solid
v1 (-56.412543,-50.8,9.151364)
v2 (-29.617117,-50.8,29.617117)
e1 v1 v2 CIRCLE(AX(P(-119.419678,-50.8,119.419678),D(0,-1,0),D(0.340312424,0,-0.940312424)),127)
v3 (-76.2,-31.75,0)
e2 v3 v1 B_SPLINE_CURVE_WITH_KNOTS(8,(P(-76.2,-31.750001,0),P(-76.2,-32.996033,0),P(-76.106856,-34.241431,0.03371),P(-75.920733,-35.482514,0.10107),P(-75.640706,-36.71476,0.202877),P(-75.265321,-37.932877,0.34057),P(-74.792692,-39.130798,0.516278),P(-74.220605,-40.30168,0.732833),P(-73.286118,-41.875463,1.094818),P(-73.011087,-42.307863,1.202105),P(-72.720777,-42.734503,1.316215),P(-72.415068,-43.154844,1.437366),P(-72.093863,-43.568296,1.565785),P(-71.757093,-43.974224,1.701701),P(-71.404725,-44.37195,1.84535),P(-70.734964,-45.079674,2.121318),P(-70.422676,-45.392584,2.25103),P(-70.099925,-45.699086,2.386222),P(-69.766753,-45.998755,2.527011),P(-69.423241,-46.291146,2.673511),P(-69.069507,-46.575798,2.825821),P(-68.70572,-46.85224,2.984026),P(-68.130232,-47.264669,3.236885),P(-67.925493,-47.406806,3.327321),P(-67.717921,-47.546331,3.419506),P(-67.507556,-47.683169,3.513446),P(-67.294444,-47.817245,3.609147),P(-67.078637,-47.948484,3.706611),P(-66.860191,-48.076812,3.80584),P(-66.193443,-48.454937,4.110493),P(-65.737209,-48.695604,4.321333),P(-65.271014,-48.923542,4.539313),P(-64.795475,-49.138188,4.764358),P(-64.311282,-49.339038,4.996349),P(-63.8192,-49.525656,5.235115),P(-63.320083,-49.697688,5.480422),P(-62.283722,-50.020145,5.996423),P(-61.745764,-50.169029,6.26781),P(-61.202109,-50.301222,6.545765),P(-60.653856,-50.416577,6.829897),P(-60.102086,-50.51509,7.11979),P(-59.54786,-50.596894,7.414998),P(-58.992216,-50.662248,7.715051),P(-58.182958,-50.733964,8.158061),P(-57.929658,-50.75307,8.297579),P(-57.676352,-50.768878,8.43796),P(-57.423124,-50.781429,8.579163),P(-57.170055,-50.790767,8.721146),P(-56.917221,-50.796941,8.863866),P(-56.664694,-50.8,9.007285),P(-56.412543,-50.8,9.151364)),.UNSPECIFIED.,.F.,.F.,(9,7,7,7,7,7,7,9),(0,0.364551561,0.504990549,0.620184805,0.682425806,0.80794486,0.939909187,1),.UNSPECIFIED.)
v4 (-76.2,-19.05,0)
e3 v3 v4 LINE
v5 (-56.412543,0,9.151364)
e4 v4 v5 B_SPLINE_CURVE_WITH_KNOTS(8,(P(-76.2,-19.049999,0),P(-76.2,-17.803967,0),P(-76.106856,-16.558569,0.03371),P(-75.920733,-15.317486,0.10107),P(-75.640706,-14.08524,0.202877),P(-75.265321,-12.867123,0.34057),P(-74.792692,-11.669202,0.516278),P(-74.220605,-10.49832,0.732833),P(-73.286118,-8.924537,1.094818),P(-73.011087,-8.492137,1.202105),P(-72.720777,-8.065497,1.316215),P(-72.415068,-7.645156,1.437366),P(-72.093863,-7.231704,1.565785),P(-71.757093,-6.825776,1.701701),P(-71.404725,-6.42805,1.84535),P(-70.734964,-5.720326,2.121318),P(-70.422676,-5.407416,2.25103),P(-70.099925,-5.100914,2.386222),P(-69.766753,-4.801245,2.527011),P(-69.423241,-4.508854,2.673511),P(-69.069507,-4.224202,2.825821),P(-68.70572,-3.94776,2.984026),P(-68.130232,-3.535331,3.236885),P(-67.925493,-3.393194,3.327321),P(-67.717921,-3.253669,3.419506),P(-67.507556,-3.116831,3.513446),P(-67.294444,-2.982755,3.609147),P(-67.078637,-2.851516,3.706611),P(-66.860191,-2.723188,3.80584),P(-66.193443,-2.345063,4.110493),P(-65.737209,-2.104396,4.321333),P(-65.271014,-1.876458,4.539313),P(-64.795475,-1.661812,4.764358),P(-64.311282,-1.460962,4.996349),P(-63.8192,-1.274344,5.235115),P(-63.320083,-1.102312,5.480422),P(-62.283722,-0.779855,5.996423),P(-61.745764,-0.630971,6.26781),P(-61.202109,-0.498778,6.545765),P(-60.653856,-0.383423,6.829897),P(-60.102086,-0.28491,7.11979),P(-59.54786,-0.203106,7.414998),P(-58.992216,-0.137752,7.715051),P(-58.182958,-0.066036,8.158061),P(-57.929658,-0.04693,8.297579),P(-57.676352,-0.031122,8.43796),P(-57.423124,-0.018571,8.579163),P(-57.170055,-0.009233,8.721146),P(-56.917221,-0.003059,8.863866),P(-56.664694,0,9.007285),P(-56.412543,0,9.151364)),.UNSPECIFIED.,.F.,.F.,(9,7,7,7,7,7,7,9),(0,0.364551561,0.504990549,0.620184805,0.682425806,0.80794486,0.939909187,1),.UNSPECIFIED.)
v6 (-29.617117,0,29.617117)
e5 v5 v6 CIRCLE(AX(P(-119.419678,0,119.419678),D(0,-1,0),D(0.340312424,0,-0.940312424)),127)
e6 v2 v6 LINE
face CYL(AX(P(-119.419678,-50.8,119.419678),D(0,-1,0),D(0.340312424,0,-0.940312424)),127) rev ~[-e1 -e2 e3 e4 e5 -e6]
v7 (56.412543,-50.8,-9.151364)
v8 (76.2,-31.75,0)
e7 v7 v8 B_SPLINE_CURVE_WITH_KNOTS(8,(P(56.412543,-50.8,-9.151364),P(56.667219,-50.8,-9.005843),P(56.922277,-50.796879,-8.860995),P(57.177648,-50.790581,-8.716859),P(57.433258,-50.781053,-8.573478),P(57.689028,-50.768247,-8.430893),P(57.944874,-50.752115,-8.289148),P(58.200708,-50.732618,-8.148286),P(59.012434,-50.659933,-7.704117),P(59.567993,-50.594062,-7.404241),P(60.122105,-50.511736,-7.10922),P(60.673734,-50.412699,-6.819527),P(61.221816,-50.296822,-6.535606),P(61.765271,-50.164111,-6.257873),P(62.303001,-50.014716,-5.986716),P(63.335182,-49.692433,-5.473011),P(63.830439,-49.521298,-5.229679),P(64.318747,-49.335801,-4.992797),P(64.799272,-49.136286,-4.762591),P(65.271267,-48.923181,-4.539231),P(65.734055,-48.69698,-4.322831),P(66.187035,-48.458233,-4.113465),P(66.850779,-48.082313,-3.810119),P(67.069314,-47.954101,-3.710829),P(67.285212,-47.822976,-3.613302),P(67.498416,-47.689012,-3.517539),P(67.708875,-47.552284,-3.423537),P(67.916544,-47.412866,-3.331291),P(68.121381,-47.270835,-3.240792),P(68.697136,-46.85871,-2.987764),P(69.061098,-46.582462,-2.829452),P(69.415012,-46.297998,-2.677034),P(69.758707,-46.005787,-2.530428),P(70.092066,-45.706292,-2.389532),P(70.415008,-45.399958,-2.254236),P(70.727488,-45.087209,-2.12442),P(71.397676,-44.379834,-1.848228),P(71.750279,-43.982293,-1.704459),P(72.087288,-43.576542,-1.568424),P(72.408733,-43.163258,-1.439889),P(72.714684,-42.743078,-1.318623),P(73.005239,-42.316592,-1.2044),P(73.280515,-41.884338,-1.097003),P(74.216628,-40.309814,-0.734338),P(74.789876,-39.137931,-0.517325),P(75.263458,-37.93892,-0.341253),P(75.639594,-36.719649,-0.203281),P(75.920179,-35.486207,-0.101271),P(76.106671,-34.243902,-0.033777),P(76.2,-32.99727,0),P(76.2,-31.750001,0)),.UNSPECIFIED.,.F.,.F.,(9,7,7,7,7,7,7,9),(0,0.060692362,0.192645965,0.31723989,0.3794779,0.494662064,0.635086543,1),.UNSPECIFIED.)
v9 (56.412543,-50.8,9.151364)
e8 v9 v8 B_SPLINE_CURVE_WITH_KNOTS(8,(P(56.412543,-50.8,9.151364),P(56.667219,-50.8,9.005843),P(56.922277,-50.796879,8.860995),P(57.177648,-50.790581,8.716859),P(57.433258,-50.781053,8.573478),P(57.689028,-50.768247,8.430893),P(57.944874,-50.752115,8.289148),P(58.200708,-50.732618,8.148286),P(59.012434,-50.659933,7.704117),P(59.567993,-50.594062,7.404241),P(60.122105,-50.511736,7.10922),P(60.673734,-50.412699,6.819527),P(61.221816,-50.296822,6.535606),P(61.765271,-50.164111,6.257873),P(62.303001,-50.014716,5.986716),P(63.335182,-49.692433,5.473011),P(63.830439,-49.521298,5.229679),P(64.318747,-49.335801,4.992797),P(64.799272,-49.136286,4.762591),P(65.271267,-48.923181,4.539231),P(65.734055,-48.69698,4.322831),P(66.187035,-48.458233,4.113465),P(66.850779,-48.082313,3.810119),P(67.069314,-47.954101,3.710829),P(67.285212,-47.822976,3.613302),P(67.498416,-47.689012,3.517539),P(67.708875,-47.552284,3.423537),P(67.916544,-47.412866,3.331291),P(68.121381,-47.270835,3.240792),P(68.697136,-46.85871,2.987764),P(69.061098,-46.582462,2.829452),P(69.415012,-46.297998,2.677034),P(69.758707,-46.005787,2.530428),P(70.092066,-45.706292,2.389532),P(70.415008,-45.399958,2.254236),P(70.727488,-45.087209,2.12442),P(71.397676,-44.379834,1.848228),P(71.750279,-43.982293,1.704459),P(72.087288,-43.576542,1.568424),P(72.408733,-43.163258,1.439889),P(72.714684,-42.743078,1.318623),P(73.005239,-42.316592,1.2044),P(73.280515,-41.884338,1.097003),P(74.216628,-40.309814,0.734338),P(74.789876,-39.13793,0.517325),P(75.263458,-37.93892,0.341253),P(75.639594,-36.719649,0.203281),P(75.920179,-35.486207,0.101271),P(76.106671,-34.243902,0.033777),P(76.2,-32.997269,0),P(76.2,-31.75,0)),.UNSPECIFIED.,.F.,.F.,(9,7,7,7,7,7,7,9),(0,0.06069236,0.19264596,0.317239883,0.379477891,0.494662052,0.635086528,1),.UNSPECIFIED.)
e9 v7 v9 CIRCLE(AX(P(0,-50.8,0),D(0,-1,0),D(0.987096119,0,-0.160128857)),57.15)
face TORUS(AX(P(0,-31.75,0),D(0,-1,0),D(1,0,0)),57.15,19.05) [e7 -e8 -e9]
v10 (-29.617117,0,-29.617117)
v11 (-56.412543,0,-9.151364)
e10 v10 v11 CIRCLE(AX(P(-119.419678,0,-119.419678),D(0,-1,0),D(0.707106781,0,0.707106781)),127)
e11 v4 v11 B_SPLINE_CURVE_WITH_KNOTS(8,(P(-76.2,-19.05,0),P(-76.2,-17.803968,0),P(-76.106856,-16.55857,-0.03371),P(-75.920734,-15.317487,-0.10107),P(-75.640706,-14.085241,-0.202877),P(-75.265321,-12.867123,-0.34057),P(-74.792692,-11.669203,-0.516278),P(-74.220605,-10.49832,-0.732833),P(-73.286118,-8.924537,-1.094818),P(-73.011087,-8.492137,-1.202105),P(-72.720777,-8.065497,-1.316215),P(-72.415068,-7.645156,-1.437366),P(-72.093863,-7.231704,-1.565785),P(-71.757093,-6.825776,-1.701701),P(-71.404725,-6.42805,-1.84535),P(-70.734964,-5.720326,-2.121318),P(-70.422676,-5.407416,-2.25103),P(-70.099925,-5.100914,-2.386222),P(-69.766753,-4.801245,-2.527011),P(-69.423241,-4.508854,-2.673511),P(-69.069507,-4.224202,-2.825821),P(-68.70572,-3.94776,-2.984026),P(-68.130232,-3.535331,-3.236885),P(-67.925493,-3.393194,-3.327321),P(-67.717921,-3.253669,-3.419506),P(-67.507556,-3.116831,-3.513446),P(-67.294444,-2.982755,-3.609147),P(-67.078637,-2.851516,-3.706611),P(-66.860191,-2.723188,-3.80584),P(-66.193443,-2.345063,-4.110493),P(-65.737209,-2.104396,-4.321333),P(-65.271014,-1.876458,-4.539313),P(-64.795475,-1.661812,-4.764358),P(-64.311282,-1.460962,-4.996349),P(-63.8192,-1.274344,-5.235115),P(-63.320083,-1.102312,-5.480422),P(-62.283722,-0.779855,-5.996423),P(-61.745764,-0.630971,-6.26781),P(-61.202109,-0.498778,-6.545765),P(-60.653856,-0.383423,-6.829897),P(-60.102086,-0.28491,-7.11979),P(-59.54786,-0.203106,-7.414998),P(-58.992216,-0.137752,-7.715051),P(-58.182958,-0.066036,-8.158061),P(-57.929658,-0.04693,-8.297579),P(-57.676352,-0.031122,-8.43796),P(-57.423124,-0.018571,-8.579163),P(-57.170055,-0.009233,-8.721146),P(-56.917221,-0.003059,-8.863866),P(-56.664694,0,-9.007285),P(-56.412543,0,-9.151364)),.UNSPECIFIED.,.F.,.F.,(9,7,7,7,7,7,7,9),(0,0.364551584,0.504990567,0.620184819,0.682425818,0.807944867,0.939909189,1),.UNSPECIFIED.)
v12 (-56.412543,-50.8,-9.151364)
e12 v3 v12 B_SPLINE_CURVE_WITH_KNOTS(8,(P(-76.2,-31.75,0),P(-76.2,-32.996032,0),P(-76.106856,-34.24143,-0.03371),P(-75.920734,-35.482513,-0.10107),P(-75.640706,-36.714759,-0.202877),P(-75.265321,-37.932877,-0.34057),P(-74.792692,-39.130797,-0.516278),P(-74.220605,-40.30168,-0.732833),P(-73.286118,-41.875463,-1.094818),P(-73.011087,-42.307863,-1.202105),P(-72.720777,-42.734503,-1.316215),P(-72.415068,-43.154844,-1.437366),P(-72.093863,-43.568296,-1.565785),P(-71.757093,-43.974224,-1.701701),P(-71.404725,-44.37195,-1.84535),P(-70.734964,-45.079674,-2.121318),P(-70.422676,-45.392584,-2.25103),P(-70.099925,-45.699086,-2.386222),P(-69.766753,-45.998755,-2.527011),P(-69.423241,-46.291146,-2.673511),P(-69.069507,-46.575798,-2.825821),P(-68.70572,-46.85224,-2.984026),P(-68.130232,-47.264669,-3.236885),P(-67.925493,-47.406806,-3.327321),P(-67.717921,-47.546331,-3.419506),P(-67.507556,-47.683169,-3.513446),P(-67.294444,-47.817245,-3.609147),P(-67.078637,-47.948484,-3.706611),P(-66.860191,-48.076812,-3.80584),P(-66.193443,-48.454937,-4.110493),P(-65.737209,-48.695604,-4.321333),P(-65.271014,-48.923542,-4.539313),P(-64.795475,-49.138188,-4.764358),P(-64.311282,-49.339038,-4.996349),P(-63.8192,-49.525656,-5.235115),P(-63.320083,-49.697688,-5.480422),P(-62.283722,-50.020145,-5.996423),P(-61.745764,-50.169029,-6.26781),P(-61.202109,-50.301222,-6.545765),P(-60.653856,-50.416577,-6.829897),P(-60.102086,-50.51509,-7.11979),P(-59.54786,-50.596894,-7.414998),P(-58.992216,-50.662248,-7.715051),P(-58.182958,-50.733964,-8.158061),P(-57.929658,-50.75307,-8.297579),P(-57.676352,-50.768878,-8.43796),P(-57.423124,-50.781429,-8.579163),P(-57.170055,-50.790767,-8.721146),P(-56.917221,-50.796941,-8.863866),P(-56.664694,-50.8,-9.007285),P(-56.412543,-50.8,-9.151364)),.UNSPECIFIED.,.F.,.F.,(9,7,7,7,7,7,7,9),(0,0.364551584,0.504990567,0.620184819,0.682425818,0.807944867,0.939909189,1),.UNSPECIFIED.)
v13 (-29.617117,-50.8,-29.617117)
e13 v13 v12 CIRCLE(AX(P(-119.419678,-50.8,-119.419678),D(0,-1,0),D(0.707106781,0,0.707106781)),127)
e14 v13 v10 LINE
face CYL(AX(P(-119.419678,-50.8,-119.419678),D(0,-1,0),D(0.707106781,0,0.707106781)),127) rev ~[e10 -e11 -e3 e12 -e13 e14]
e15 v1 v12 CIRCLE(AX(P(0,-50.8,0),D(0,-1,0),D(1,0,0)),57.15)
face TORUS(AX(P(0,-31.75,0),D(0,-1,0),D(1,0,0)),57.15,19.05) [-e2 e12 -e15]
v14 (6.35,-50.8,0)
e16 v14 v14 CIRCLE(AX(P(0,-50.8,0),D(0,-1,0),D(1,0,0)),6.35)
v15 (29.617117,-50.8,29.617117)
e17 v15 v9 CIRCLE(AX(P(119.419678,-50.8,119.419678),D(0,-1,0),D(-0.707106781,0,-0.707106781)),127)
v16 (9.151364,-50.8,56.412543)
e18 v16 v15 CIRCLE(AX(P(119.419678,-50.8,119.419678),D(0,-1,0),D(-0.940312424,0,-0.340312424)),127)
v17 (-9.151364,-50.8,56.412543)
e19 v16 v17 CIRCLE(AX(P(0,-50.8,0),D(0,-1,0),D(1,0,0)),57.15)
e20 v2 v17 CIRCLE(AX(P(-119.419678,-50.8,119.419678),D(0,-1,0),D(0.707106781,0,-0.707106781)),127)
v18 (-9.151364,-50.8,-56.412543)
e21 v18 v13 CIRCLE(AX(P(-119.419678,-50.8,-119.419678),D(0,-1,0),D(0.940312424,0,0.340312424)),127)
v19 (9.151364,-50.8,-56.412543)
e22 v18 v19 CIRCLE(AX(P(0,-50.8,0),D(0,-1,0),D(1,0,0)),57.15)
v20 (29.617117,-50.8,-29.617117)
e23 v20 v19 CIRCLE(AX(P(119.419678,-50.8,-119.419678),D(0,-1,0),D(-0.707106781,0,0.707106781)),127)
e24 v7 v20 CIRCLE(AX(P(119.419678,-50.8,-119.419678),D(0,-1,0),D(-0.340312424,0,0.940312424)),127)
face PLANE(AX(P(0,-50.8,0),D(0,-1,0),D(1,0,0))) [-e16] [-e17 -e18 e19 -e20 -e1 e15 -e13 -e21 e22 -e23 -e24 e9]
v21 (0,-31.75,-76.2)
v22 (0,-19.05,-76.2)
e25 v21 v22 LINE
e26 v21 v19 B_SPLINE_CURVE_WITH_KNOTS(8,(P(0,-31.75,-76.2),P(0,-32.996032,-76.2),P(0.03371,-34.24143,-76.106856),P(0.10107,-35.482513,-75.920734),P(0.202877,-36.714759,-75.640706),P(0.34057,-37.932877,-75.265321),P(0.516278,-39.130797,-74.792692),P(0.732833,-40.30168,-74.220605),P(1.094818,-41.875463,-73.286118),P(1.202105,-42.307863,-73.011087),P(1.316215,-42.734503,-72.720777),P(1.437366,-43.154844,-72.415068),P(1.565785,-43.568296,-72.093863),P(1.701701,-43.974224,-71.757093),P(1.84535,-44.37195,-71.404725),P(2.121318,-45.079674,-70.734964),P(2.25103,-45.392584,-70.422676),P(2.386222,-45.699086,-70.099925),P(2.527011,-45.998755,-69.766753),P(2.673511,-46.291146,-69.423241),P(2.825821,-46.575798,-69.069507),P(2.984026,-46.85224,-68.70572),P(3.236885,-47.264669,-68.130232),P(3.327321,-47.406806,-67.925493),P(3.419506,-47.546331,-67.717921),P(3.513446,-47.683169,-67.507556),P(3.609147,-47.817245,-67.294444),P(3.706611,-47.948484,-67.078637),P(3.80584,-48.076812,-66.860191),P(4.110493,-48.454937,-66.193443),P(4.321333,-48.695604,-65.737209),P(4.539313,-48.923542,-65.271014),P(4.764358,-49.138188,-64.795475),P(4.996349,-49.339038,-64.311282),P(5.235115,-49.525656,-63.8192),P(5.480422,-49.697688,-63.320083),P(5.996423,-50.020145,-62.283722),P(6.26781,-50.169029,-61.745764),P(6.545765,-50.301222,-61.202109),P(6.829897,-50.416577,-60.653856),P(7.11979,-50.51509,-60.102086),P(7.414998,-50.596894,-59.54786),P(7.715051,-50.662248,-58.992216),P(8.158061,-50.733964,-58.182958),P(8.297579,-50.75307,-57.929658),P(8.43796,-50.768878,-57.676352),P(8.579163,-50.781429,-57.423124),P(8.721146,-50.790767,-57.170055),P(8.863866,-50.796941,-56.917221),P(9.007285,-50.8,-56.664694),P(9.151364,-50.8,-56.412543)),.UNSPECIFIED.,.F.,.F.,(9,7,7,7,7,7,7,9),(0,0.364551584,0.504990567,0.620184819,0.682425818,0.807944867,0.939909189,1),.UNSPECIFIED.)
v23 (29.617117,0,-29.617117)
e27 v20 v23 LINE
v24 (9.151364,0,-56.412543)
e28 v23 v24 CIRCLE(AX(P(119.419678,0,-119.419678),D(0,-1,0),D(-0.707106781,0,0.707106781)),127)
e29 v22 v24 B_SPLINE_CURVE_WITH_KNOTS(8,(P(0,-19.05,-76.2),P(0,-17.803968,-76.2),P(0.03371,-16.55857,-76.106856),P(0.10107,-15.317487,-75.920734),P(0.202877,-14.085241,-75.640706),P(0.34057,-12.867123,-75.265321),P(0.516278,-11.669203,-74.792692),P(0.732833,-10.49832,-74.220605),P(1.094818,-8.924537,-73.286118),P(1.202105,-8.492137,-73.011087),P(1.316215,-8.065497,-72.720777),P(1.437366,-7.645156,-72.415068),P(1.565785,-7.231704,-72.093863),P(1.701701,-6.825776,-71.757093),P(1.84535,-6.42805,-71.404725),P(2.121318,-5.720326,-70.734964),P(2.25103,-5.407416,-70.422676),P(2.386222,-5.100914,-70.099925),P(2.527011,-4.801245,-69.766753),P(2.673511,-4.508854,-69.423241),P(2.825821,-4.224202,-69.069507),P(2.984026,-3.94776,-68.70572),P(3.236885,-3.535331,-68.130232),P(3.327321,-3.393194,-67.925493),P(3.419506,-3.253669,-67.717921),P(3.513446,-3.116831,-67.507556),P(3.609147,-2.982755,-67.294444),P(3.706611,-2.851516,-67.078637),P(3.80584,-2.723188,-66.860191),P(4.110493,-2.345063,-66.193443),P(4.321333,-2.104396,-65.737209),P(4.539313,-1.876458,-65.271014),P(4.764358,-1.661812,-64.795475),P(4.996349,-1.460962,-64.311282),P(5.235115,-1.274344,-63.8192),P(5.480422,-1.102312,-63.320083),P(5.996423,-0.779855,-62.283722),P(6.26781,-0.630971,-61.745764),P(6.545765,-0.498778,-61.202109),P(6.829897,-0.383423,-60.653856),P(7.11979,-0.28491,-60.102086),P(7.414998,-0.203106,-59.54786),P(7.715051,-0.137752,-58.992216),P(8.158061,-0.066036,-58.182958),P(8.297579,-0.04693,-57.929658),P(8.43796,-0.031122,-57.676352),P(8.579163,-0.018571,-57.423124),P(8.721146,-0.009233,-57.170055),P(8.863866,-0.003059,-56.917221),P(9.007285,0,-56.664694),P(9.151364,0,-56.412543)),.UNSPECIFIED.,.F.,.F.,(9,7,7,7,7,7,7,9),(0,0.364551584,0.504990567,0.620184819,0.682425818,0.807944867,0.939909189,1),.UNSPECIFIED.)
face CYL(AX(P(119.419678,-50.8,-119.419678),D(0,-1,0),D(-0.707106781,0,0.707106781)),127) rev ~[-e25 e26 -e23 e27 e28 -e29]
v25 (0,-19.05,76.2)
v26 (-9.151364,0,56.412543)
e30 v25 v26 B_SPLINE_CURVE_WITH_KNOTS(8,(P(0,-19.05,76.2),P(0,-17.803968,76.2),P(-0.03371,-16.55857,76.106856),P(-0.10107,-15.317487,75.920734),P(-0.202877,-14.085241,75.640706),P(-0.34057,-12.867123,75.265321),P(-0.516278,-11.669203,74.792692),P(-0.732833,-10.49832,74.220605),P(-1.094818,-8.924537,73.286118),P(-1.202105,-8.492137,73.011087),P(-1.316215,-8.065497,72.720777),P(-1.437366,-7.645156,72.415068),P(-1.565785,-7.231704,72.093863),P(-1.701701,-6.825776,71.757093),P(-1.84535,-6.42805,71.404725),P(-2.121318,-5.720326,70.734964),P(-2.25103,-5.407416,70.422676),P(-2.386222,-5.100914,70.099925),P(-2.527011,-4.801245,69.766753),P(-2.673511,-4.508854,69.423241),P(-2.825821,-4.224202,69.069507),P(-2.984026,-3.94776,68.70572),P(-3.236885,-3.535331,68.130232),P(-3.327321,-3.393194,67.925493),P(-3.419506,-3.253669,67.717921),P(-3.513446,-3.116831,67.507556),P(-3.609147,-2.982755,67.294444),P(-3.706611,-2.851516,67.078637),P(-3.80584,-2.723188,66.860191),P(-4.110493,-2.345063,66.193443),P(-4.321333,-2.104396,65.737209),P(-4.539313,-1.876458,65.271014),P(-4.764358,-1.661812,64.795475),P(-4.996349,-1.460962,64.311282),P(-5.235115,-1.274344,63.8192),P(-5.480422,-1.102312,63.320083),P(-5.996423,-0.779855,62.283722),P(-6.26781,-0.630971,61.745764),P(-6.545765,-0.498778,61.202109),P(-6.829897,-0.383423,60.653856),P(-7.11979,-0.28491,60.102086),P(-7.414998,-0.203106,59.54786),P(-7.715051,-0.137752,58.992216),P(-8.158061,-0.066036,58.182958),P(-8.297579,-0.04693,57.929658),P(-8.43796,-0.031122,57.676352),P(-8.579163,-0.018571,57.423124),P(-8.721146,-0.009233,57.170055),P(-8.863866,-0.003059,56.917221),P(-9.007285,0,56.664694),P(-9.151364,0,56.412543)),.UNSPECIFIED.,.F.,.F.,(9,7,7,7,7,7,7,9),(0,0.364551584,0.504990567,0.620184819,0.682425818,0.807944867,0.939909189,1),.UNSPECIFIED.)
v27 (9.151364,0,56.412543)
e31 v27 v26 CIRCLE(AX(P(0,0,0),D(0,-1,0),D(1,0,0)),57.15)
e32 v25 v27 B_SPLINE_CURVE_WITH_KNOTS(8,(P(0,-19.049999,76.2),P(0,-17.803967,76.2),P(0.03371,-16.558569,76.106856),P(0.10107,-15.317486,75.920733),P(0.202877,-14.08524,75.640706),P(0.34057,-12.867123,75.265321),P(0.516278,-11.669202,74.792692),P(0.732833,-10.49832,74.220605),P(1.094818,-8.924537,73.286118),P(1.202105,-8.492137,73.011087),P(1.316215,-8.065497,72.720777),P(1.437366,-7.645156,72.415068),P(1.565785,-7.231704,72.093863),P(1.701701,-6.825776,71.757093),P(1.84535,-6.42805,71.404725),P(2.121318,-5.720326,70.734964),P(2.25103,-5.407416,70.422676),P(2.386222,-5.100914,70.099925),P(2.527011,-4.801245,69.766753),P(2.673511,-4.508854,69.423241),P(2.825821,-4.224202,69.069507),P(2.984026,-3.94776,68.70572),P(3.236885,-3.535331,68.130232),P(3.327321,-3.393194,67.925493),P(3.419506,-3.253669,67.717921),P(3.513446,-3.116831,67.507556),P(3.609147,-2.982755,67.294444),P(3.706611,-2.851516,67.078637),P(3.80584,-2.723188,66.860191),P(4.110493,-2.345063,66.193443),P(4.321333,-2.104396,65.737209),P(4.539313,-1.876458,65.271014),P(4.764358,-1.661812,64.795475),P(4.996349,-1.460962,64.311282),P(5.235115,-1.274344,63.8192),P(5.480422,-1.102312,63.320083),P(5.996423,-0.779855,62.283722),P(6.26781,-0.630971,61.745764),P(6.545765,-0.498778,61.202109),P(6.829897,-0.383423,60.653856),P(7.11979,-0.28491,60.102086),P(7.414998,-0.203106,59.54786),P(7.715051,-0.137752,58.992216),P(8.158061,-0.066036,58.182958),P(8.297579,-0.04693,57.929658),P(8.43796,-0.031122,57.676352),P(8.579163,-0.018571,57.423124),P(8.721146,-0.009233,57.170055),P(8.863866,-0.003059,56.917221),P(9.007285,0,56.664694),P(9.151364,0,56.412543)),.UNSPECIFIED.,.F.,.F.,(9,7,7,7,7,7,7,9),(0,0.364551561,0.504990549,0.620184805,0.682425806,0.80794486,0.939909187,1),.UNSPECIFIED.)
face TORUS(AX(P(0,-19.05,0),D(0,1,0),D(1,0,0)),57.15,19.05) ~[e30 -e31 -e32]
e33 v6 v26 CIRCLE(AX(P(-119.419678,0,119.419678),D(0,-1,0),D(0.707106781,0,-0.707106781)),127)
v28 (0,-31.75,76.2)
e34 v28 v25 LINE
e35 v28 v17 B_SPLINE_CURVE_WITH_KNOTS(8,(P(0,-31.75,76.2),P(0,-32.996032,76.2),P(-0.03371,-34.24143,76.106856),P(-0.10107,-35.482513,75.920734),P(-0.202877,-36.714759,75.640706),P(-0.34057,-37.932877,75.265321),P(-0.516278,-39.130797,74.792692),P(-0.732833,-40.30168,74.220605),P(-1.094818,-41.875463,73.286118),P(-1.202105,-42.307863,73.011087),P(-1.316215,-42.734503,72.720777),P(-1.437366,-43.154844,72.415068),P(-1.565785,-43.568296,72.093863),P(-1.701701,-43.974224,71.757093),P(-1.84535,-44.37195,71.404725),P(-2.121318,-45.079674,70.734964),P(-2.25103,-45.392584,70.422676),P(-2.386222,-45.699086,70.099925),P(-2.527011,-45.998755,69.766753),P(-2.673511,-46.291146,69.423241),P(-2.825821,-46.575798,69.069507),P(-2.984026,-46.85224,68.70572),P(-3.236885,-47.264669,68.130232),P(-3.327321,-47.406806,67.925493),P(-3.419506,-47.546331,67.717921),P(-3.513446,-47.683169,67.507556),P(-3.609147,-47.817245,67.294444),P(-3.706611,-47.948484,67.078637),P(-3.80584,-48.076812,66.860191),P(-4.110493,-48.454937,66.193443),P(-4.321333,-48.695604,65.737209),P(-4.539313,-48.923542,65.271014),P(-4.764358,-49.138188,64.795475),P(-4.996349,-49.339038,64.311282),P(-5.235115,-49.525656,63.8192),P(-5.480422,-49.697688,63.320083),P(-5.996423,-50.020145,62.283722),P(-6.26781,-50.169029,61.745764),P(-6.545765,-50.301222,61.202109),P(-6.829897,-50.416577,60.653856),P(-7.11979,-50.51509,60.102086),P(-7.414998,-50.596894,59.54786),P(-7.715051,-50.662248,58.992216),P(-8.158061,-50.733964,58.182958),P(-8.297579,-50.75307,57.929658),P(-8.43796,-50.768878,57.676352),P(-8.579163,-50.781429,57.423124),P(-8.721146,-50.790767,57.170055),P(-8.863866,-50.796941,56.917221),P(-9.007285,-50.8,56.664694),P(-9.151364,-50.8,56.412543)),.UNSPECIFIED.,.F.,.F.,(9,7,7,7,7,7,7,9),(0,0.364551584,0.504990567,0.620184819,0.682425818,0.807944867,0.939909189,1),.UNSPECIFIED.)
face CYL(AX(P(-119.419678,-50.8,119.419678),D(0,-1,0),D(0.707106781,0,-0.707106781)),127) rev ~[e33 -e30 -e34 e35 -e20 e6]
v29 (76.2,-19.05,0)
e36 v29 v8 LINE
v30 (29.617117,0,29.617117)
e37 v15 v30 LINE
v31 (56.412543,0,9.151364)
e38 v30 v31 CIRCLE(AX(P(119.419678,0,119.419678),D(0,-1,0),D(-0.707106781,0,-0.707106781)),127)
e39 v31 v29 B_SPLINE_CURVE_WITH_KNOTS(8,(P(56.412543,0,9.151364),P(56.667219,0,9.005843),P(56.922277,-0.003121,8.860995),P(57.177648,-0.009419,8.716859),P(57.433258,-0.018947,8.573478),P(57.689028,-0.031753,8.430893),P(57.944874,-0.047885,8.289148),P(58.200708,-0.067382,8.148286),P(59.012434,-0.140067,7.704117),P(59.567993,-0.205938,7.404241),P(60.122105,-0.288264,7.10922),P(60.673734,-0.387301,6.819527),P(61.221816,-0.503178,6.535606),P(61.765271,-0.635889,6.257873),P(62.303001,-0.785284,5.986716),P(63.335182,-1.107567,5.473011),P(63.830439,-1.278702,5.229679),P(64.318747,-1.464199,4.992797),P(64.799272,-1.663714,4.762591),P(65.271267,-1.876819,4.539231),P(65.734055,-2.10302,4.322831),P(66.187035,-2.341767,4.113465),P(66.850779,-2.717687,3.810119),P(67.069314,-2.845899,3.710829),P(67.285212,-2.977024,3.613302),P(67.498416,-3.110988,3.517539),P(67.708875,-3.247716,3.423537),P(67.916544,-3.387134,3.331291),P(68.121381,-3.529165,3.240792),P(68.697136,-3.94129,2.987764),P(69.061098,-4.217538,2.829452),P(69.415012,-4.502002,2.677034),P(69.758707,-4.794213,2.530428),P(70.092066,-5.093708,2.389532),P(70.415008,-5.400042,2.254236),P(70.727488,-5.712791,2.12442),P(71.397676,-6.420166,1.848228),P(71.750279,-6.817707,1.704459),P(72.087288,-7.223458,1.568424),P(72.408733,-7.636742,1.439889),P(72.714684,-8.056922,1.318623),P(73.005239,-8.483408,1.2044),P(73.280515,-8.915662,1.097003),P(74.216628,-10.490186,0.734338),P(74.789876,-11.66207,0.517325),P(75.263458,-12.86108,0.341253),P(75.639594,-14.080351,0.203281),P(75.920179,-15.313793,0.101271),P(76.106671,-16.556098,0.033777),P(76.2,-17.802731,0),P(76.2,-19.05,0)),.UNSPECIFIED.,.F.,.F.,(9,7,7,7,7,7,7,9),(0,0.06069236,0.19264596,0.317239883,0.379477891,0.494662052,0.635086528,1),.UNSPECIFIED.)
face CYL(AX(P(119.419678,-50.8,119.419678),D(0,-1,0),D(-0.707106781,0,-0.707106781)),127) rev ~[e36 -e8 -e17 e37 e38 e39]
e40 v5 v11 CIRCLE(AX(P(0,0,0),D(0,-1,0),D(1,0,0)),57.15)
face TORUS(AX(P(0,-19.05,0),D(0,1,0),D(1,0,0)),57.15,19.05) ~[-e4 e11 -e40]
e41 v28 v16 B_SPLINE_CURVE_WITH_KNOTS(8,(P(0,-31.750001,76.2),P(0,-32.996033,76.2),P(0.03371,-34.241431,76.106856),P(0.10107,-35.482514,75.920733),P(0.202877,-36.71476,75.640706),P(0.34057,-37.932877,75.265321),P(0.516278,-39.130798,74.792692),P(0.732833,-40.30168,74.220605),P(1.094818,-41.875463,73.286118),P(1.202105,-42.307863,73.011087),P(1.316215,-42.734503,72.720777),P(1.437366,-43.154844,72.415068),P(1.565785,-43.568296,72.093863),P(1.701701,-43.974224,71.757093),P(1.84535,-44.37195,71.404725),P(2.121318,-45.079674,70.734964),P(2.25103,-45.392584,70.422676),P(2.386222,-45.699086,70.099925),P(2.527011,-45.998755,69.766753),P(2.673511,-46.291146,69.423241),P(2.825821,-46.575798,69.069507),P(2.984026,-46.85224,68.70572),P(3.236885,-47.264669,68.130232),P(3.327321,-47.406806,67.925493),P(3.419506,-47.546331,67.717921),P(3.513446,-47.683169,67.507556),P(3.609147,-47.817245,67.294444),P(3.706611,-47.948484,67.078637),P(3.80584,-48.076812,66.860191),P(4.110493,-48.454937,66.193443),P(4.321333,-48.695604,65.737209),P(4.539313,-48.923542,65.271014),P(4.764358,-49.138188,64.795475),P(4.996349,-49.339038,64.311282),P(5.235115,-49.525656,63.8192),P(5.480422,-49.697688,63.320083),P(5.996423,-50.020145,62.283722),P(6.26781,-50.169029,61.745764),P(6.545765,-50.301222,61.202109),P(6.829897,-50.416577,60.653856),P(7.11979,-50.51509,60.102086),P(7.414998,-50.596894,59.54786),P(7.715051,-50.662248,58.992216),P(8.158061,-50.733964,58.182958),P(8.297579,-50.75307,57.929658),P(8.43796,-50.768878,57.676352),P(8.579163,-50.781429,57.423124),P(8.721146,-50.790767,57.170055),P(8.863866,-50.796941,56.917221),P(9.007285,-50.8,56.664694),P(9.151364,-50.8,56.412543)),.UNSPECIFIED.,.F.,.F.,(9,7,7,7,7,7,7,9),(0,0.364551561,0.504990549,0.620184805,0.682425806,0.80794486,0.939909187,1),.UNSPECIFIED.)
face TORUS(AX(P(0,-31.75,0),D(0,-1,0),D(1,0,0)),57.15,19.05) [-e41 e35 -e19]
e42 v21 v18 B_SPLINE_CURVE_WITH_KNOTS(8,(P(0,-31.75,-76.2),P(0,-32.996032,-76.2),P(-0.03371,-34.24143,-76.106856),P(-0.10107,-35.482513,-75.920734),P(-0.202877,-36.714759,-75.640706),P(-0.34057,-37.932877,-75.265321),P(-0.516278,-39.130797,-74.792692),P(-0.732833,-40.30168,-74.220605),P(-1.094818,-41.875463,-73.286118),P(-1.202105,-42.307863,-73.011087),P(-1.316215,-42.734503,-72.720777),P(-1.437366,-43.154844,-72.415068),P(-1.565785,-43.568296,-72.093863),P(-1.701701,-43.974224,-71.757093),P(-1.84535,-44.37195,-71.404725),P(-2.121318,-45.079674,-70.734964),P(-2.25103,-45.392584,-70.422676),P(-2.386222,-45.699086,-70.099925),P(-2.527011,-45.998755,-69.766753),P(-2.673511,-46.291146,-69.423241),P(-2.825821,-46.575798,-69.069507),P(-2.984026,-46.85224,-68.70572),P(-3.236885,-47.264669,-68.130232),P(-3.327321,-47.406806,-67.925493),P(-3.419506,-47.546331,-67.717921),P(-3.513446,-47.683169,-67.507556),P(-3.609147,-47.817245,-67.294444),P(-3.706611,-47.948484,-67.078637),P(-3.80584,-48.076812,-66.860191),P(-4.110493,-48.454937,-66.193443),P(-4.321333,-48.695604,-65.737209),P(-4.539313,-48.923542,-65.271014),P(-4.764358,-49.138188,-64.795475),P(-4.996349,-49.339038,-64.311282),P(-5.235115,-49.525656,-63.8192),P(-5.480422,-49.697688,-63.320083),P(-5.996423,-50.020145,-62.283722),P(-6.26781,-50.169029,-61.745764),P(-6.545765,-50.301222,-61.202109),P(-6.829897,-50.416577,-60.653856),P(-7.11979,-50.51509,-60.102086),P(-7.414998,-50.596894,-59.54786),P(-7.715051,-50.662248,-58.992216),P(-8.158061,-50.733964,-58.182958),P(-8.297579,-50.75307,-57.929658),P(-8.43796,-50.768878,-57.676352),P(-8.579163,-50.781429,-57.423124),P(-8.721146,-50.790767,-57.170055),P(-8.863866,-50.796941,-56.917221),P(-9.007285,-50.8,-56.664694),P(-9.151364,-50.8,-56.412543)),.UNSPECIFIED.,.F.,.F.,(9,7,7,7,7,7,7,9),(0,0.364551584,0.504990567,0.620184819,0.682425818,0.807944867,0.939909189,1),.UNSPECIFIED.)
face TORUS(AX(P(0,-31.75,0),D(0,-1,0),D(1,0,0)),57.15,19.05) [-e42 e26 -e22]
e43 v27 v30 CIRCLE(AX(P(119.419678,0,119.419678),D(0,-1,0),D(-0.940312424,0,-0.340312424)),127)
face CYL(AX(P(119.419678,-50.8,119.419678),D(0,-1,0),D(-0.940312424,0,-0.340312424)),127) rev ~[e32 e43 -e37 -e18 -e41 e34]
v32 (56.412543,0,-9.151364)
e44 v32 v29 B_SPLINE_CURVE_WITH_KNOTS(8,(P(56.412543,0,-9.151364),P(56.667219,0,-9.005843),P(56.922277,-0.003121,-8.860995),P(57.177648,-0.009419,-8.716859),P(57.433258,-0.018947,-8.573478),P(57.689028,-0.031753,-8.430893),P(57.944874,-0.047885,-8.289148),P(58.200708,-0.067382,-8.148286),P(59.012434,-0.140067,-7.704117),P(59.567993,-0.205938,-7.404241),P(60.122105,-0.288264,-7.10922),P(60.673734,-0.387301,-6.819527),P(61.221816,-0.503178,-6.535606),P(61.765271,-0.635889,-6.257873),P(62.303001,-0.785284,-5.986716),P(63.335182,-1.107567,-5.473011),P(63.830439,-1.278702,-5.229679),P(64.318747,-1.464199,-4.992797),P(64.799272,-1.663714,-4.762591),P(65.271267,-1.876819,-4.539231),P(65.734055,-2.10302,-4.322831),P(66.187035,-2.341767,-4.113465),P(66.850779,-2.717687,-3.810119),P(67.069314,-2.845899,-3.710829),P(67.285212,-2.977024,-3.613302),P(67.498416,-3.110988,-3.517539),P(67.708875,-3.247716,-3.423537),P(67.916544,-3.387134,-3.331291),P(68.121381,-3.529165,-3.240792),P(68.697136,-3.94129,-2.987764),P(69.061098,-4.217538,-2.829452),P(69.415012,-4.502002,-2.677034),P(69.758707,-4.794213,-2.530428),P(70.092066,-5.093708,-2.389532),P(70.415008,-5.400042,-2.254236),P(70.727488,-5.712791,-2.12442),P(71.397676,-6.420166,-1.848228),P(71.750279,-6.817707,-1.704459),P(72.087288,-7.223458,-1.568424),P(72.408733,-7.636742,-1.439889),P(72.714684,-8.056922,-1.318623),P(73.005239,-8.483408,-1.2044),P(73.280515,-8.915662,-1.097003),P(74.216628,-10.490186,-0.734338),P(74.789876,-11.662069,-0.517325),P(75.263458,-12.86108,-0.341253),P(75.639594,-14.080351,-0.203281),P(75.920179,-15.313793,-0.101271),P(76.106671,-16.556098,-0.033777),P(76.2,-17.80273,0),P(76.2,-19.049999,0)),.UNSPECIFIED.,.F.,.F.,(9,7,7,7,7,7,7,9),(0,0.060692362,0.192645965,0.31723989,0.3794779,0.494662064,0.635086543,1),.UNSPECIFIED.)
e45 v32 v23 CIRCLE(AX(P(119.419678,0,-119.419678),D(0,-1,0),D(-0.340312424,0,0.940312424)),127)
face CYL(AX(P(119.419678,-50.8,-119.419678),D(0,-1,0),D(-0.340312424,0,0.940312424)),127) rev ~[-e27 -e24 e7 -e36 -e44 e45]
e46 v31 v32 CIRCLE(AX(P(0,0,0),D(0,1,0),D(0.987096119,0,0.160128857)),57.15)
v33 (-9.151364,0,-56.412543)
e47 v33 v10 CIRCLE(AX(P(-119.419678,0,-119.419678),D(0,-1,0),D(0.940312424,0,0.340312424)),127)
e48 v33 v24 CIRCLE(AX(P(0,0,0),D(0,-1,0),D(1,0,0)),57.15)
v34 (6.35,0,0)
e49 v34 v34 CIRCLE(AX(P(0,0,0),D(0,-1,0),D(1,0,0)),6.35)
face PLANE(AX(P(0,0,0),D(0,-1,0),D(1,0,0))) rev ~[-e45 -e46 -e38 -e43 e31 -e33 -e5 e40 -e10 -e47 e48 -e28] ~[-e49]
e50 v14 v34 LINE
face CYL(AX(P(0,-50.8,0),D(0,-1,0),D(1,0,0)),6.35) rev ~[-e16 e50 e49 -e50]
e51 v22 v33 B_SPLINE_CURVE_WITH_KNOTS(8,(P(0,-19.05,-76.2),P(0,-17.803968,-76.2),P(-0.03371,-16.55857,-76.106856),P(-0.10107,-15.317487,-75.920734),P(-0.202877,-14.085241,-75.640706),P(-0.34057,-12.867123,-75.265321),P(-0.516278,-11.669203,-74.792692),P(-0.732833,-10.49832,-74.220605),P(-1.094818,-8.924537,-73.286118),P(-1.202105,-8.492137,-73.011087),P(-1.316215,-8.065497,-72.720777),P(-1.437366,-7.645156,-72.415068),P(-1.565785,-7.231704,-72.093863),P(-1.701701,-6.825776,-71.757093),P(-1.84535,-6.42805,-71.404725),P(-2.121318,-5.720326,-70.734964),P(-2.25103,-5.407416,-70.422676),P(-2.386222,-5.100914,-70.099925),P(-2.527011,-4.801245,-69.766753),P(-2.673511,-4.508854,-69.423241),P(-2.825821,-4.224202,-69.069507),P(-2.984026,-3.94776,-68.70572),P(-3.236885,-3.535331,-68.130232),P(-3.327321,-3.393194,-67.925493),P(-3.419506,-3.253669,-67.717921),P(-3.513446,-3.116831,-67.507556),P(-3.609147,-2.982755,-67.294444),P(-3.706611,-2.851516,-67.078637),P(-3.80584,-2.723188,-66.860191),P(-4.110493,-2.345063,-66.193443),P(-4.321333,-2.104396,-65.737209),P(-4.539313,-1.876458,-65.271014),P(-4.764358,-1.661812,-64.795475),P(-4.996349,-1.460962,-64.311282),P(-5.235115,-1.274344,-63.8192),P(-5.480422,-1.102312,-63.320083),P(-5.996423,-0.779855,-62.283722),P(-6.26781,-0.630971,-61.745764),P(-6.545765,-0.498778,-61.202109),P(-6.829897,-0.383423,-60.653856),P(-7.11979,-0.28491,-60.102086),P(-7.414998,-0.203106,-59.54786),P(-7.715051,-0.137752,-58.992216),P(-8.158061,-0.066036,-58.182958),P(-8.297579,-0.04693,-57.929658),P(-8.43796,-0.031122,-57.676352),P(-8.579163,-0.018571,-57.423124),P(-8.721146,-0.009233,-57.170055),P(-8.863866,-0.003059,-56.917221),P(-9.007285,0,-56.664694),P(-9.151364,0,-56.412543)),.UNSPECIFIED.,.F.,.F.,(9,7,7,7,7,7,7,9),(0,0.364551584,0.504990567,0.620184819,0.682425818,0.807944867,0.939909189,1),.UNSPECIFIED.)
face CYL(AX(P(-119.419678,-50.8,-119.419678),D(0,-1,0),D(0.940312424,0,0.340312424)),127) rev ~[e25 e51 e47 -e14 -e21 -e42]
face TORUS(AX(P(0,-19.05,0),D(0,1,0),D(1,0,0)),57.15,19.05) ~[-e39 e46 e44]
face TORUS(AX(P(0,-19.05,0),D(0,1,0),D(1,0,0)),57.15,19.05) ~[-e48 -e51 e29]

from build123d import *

# Parameters (mm, degrees)
F0_R     = 76.2
F1_DEPTH = 50.8
F3_R     = 19.05
F4_DEPTH = 50.801
F5_R     = 6.35
F6_DEPTH = 50.8010001


with BuildPart() as f1:
    # F0 (on Front) → F1 (new body)
    with BuildSketch(Plane.XZ):
        Circle(F0_R)
    extrude(amount=F1_DEPTH)

    # F3
    f3_edges = [f1.edges().sort_by_distance(p)[0] for p in [
        (76.2, -25.4, 0),
        (-76.2, 0, 0),
        (-76.2, -50.8, 0),
    ]]
    fillet(f3_edges, radius=F3_R)

    # F2 (on face) → F4 (cut, through all)
    with BuildSketch(Plane.XZ.offset(50.8)):
        with BuildLine():
            ThreePointArc((-29.6171166047, 29.6171166047), (-12.2470246704, 51.2799506522), (0, 76.2))
            Line((0, 76.2), (-38.1, 38.1))
            Line((-38.1, 38.1), (-29.6171166047, 29.6171166047))
        make_face()
        with BuildLine():
            Line((-29.6171166047, 29.6171166047), (-38.1, 38.1))
            Line((-38.1, 38.1), (-76.2, 0))
            ThreePointArc((-76.2, 0), (-51.2799506522, 12.2470246704), (-29.6171166047, 29.6171166047))
        make_face()
        with BuildLine():
            Line((0, -76.2), (38.1, -38.1))
            Line((38.1, -38.1), (29.6171166047, -29.6171166047))
            ThreePointArc((29.6171166047, -29.6171166047), (12.2470246704, -51.2799506522), (0, -76.2))
        make_face()
        with BuildLine():
            Line((38.1, -38.1), (76.2, 0))
            ThreePointArc((76.2, 0), (51.2799506522, -12.2470246704), (29.6171166047, -29.6171166047))
            Line((29.6171166047, -29.6171166047), (38.1, -38.1))
        make_face()
        with BuildLine():
            ThreePointArc((29.6171166047, 29.6171166047), (51.2799506522, 12.2470246704), (76.2, 0))
            Line((76.2, 0), (38.1, 38.1))
            Line((38.1, 38.1), (29.6171166047, 29.6171166047))
        make_face()
        with BuildLine():
            Line((38.1, 38.1), (0, 76.2))
            ThreePointArc((0, 76.2), (12.2470246704, 51.2799506522), (29.6171166047, 29.6171166047))
            Line((29.6171166047, 29.6171166047), (38.1, 38.1))
        make_face()
        with BuildLine():
            ThreePointArc((-29.6171166047, -29.6171166047), (-51.2799506522, -12.2470246704), (-76.2, 0))
            Line((-76.2, 0), (-38.1, -38.1))
            Line((-38.1, -38.1), (-29.6171166047, -29.6171166047))
        make_face()
        with BuildLine():
            Line((-38.1, -38.1), (0, -76.2))
            ThreePointArc((0, -76.2), (-12.2470246704, -51.2799506522), (-29.6171166047, -29.6171166047))
            Line((-29.6171166047, -29.6171166047), (-38.1, -38.1))
        make_face()
        with BuildLine():
            Line((53.8815367264, 53.8815367264), (76.2, 76.2))
            Line((76.2, 76.2), (0, 76.2))
            ThreePointArc((0, 76.2), (29.1604775462, 70.3996203774), (53.8815367264, 53.8815367264))
        make_face()
        with BuildLine():
            ThreePointArc((-53.8815367264, 53.8815367264), (-29.1604775462, 70.3996203774), (0, 76.2))
            Line((0, 76.2), (-76.2, 76.2))
            Line((-76.2, 76.2), (-53.8815367264, 53.8815367264))
        make_face()
        with BuildLine():
            Line((0, -76.2), (76.2, -76.2))
            Line((76.2, -76.2), (53.8815367264, -53.8815367264))
            ThreePointArc((53.8815367264, -53.8815367264), (29.1604775462, -70.3996203774), (0, -76.2))
        make_face()
        with BuildLine():
            Line((-76.2, -76.2), (0, -76.2))
            ThreePointArc((0, -76.2), (-29.1604775462, -70.3996203774), (-53.8815367264, -53.8815367264))
            Line((-53.8815367264, -53.8815367264), (-76.2, -76.2))
        make_face()
        with BuildLine():
            Line((76.2, 0), (76.2, 76.2))
            Line((76.2, 76.2), (53.8815367264, 53.8815367264))
            ThreePointArc((53.8815367264, 53.8815367264), (70.3996203774, 29.1604775462), (76.2, 0))
        make_face()
        with BuildLine():
            Line((76.2, -76.2), (76.2, 0))
            ThreePointArc((76.2, 0), (70.3996203774, -29.1604775462), (53.8815367264, -53.8815367264))
            Line((53.8815367264, -53.8815367264), (76.2, -76.2))
        make_face()
        with BuildLine():
            Line((-53.8815367264, 53.8815367264), (-76.2, 76.2))
            Line((-76.2, 76.2), (-76.2, 0))
            ThreePointArc((-76.2, 0), (-70.3996203774, 29.1604775462), (-53.8815367264, 53.8815367264))
        make_face()
        with BuildLine():
            ThreePointArc((-53.8815367264, -53.8815367264), (-70.3996203774, -29.1604775462), (-76.2, 0))
            Line((-76.2, 0), (-76.2, -76.2))
            Line((-76.2, -76.2), (-53.8815367264, -53.8815367264))
        make_face()
        with BuildLine():
            Line((-38.1, 38.1), (0, 76.2))
            ThreePointArc((0, 76.2), (-29.1604775462, 70.3996203774), (-53.8815367264, 53.8815367264))
            Line((-53.8815367264, 53.8815367264), (-38.1, 38.1))
        make_face()
        with BuildLine():
            Line((-76.2, 0), (-38.1, 38.1))
            Line((-38.1, 38.1), (-53.8815367264, 53.8815367264))
            ThreePointArc((-53.8815367264, 53.8815367264), (-70.3996203774, 29.1604775462), (-76.2, 0))
        make_face()
        with BuildLine():
            Line((53.8815367264, -53.8815367264), (38.1, -38.1))
            Line((38.1, -38.1), (0, -76.2))
            ThreePointArc((0, -76.2), (29.1604775462, -70.3996203774), (53.8815367264, -53.8815367264))
        make_face()
        with BuildLine():
            ThreePointArc((53.8815367264, -53.8815367264), (70.3996203774, -29.1604775462), (76.2, 0))
            Line((76.2, 0), (38.1, -38.1))
            Line((38.1, -38.1), (53.8815367264, -53.8815367264))
        make_face()
        with BuildLine():
            Line((38.1, 38.1), (76.2, 0))
            ThreePointArc((76.2, 0), (70.3996203774, 29.1604775462), (53.8815367264, 53.8815367264))
            Line((53.8815367264, 53.8815367264), (38.1, 38.1))
        make_face()
        with BuildLine():
            ThreePointArc((53.8815367264, 53.8815367264), (29.1604775462, 70.3996203774), (0, 76.2))
            Line((0, 76.2), (38.1, 38.1))
            Line((38.1, 38.1), (53.8815367264, 53.8815367264))
        make_face()
        with BuildLine():
            Line((-38.1, -38.1), (-76.2, 0))
            ThreePointArc((-76.2, 0), (-70.3996203774, -29.1604775462), (-53.8815367264, -53.8815367264))
            Line((-53.8815367264, -53.8815367264), (-38.1, -38.1))
        make_face()
        with BuildLine():
            ThreePointArc((-53.8815367264, -53.8815367264), (-29.1604775462, -70.3996203774), (0, -76.2))
            Line((0, -76.2), (-38.1, -38.1))
            Line((-38.1, -38.1), (-53.8815367264, -53.8815367264))
        make_face()
    extrude(amount=-F4_DEPTH, mode=Mode.SUBTRACT)

    # F5 (on face) → F6 (cut, through all)
    with BuildSketch(Plane.XZ.offset(50.8)):
        Circle(F5_R)
    extrude(amount=-F6_DEPTH, mode=Mode.SUBTRACT)


solid = f1.part
